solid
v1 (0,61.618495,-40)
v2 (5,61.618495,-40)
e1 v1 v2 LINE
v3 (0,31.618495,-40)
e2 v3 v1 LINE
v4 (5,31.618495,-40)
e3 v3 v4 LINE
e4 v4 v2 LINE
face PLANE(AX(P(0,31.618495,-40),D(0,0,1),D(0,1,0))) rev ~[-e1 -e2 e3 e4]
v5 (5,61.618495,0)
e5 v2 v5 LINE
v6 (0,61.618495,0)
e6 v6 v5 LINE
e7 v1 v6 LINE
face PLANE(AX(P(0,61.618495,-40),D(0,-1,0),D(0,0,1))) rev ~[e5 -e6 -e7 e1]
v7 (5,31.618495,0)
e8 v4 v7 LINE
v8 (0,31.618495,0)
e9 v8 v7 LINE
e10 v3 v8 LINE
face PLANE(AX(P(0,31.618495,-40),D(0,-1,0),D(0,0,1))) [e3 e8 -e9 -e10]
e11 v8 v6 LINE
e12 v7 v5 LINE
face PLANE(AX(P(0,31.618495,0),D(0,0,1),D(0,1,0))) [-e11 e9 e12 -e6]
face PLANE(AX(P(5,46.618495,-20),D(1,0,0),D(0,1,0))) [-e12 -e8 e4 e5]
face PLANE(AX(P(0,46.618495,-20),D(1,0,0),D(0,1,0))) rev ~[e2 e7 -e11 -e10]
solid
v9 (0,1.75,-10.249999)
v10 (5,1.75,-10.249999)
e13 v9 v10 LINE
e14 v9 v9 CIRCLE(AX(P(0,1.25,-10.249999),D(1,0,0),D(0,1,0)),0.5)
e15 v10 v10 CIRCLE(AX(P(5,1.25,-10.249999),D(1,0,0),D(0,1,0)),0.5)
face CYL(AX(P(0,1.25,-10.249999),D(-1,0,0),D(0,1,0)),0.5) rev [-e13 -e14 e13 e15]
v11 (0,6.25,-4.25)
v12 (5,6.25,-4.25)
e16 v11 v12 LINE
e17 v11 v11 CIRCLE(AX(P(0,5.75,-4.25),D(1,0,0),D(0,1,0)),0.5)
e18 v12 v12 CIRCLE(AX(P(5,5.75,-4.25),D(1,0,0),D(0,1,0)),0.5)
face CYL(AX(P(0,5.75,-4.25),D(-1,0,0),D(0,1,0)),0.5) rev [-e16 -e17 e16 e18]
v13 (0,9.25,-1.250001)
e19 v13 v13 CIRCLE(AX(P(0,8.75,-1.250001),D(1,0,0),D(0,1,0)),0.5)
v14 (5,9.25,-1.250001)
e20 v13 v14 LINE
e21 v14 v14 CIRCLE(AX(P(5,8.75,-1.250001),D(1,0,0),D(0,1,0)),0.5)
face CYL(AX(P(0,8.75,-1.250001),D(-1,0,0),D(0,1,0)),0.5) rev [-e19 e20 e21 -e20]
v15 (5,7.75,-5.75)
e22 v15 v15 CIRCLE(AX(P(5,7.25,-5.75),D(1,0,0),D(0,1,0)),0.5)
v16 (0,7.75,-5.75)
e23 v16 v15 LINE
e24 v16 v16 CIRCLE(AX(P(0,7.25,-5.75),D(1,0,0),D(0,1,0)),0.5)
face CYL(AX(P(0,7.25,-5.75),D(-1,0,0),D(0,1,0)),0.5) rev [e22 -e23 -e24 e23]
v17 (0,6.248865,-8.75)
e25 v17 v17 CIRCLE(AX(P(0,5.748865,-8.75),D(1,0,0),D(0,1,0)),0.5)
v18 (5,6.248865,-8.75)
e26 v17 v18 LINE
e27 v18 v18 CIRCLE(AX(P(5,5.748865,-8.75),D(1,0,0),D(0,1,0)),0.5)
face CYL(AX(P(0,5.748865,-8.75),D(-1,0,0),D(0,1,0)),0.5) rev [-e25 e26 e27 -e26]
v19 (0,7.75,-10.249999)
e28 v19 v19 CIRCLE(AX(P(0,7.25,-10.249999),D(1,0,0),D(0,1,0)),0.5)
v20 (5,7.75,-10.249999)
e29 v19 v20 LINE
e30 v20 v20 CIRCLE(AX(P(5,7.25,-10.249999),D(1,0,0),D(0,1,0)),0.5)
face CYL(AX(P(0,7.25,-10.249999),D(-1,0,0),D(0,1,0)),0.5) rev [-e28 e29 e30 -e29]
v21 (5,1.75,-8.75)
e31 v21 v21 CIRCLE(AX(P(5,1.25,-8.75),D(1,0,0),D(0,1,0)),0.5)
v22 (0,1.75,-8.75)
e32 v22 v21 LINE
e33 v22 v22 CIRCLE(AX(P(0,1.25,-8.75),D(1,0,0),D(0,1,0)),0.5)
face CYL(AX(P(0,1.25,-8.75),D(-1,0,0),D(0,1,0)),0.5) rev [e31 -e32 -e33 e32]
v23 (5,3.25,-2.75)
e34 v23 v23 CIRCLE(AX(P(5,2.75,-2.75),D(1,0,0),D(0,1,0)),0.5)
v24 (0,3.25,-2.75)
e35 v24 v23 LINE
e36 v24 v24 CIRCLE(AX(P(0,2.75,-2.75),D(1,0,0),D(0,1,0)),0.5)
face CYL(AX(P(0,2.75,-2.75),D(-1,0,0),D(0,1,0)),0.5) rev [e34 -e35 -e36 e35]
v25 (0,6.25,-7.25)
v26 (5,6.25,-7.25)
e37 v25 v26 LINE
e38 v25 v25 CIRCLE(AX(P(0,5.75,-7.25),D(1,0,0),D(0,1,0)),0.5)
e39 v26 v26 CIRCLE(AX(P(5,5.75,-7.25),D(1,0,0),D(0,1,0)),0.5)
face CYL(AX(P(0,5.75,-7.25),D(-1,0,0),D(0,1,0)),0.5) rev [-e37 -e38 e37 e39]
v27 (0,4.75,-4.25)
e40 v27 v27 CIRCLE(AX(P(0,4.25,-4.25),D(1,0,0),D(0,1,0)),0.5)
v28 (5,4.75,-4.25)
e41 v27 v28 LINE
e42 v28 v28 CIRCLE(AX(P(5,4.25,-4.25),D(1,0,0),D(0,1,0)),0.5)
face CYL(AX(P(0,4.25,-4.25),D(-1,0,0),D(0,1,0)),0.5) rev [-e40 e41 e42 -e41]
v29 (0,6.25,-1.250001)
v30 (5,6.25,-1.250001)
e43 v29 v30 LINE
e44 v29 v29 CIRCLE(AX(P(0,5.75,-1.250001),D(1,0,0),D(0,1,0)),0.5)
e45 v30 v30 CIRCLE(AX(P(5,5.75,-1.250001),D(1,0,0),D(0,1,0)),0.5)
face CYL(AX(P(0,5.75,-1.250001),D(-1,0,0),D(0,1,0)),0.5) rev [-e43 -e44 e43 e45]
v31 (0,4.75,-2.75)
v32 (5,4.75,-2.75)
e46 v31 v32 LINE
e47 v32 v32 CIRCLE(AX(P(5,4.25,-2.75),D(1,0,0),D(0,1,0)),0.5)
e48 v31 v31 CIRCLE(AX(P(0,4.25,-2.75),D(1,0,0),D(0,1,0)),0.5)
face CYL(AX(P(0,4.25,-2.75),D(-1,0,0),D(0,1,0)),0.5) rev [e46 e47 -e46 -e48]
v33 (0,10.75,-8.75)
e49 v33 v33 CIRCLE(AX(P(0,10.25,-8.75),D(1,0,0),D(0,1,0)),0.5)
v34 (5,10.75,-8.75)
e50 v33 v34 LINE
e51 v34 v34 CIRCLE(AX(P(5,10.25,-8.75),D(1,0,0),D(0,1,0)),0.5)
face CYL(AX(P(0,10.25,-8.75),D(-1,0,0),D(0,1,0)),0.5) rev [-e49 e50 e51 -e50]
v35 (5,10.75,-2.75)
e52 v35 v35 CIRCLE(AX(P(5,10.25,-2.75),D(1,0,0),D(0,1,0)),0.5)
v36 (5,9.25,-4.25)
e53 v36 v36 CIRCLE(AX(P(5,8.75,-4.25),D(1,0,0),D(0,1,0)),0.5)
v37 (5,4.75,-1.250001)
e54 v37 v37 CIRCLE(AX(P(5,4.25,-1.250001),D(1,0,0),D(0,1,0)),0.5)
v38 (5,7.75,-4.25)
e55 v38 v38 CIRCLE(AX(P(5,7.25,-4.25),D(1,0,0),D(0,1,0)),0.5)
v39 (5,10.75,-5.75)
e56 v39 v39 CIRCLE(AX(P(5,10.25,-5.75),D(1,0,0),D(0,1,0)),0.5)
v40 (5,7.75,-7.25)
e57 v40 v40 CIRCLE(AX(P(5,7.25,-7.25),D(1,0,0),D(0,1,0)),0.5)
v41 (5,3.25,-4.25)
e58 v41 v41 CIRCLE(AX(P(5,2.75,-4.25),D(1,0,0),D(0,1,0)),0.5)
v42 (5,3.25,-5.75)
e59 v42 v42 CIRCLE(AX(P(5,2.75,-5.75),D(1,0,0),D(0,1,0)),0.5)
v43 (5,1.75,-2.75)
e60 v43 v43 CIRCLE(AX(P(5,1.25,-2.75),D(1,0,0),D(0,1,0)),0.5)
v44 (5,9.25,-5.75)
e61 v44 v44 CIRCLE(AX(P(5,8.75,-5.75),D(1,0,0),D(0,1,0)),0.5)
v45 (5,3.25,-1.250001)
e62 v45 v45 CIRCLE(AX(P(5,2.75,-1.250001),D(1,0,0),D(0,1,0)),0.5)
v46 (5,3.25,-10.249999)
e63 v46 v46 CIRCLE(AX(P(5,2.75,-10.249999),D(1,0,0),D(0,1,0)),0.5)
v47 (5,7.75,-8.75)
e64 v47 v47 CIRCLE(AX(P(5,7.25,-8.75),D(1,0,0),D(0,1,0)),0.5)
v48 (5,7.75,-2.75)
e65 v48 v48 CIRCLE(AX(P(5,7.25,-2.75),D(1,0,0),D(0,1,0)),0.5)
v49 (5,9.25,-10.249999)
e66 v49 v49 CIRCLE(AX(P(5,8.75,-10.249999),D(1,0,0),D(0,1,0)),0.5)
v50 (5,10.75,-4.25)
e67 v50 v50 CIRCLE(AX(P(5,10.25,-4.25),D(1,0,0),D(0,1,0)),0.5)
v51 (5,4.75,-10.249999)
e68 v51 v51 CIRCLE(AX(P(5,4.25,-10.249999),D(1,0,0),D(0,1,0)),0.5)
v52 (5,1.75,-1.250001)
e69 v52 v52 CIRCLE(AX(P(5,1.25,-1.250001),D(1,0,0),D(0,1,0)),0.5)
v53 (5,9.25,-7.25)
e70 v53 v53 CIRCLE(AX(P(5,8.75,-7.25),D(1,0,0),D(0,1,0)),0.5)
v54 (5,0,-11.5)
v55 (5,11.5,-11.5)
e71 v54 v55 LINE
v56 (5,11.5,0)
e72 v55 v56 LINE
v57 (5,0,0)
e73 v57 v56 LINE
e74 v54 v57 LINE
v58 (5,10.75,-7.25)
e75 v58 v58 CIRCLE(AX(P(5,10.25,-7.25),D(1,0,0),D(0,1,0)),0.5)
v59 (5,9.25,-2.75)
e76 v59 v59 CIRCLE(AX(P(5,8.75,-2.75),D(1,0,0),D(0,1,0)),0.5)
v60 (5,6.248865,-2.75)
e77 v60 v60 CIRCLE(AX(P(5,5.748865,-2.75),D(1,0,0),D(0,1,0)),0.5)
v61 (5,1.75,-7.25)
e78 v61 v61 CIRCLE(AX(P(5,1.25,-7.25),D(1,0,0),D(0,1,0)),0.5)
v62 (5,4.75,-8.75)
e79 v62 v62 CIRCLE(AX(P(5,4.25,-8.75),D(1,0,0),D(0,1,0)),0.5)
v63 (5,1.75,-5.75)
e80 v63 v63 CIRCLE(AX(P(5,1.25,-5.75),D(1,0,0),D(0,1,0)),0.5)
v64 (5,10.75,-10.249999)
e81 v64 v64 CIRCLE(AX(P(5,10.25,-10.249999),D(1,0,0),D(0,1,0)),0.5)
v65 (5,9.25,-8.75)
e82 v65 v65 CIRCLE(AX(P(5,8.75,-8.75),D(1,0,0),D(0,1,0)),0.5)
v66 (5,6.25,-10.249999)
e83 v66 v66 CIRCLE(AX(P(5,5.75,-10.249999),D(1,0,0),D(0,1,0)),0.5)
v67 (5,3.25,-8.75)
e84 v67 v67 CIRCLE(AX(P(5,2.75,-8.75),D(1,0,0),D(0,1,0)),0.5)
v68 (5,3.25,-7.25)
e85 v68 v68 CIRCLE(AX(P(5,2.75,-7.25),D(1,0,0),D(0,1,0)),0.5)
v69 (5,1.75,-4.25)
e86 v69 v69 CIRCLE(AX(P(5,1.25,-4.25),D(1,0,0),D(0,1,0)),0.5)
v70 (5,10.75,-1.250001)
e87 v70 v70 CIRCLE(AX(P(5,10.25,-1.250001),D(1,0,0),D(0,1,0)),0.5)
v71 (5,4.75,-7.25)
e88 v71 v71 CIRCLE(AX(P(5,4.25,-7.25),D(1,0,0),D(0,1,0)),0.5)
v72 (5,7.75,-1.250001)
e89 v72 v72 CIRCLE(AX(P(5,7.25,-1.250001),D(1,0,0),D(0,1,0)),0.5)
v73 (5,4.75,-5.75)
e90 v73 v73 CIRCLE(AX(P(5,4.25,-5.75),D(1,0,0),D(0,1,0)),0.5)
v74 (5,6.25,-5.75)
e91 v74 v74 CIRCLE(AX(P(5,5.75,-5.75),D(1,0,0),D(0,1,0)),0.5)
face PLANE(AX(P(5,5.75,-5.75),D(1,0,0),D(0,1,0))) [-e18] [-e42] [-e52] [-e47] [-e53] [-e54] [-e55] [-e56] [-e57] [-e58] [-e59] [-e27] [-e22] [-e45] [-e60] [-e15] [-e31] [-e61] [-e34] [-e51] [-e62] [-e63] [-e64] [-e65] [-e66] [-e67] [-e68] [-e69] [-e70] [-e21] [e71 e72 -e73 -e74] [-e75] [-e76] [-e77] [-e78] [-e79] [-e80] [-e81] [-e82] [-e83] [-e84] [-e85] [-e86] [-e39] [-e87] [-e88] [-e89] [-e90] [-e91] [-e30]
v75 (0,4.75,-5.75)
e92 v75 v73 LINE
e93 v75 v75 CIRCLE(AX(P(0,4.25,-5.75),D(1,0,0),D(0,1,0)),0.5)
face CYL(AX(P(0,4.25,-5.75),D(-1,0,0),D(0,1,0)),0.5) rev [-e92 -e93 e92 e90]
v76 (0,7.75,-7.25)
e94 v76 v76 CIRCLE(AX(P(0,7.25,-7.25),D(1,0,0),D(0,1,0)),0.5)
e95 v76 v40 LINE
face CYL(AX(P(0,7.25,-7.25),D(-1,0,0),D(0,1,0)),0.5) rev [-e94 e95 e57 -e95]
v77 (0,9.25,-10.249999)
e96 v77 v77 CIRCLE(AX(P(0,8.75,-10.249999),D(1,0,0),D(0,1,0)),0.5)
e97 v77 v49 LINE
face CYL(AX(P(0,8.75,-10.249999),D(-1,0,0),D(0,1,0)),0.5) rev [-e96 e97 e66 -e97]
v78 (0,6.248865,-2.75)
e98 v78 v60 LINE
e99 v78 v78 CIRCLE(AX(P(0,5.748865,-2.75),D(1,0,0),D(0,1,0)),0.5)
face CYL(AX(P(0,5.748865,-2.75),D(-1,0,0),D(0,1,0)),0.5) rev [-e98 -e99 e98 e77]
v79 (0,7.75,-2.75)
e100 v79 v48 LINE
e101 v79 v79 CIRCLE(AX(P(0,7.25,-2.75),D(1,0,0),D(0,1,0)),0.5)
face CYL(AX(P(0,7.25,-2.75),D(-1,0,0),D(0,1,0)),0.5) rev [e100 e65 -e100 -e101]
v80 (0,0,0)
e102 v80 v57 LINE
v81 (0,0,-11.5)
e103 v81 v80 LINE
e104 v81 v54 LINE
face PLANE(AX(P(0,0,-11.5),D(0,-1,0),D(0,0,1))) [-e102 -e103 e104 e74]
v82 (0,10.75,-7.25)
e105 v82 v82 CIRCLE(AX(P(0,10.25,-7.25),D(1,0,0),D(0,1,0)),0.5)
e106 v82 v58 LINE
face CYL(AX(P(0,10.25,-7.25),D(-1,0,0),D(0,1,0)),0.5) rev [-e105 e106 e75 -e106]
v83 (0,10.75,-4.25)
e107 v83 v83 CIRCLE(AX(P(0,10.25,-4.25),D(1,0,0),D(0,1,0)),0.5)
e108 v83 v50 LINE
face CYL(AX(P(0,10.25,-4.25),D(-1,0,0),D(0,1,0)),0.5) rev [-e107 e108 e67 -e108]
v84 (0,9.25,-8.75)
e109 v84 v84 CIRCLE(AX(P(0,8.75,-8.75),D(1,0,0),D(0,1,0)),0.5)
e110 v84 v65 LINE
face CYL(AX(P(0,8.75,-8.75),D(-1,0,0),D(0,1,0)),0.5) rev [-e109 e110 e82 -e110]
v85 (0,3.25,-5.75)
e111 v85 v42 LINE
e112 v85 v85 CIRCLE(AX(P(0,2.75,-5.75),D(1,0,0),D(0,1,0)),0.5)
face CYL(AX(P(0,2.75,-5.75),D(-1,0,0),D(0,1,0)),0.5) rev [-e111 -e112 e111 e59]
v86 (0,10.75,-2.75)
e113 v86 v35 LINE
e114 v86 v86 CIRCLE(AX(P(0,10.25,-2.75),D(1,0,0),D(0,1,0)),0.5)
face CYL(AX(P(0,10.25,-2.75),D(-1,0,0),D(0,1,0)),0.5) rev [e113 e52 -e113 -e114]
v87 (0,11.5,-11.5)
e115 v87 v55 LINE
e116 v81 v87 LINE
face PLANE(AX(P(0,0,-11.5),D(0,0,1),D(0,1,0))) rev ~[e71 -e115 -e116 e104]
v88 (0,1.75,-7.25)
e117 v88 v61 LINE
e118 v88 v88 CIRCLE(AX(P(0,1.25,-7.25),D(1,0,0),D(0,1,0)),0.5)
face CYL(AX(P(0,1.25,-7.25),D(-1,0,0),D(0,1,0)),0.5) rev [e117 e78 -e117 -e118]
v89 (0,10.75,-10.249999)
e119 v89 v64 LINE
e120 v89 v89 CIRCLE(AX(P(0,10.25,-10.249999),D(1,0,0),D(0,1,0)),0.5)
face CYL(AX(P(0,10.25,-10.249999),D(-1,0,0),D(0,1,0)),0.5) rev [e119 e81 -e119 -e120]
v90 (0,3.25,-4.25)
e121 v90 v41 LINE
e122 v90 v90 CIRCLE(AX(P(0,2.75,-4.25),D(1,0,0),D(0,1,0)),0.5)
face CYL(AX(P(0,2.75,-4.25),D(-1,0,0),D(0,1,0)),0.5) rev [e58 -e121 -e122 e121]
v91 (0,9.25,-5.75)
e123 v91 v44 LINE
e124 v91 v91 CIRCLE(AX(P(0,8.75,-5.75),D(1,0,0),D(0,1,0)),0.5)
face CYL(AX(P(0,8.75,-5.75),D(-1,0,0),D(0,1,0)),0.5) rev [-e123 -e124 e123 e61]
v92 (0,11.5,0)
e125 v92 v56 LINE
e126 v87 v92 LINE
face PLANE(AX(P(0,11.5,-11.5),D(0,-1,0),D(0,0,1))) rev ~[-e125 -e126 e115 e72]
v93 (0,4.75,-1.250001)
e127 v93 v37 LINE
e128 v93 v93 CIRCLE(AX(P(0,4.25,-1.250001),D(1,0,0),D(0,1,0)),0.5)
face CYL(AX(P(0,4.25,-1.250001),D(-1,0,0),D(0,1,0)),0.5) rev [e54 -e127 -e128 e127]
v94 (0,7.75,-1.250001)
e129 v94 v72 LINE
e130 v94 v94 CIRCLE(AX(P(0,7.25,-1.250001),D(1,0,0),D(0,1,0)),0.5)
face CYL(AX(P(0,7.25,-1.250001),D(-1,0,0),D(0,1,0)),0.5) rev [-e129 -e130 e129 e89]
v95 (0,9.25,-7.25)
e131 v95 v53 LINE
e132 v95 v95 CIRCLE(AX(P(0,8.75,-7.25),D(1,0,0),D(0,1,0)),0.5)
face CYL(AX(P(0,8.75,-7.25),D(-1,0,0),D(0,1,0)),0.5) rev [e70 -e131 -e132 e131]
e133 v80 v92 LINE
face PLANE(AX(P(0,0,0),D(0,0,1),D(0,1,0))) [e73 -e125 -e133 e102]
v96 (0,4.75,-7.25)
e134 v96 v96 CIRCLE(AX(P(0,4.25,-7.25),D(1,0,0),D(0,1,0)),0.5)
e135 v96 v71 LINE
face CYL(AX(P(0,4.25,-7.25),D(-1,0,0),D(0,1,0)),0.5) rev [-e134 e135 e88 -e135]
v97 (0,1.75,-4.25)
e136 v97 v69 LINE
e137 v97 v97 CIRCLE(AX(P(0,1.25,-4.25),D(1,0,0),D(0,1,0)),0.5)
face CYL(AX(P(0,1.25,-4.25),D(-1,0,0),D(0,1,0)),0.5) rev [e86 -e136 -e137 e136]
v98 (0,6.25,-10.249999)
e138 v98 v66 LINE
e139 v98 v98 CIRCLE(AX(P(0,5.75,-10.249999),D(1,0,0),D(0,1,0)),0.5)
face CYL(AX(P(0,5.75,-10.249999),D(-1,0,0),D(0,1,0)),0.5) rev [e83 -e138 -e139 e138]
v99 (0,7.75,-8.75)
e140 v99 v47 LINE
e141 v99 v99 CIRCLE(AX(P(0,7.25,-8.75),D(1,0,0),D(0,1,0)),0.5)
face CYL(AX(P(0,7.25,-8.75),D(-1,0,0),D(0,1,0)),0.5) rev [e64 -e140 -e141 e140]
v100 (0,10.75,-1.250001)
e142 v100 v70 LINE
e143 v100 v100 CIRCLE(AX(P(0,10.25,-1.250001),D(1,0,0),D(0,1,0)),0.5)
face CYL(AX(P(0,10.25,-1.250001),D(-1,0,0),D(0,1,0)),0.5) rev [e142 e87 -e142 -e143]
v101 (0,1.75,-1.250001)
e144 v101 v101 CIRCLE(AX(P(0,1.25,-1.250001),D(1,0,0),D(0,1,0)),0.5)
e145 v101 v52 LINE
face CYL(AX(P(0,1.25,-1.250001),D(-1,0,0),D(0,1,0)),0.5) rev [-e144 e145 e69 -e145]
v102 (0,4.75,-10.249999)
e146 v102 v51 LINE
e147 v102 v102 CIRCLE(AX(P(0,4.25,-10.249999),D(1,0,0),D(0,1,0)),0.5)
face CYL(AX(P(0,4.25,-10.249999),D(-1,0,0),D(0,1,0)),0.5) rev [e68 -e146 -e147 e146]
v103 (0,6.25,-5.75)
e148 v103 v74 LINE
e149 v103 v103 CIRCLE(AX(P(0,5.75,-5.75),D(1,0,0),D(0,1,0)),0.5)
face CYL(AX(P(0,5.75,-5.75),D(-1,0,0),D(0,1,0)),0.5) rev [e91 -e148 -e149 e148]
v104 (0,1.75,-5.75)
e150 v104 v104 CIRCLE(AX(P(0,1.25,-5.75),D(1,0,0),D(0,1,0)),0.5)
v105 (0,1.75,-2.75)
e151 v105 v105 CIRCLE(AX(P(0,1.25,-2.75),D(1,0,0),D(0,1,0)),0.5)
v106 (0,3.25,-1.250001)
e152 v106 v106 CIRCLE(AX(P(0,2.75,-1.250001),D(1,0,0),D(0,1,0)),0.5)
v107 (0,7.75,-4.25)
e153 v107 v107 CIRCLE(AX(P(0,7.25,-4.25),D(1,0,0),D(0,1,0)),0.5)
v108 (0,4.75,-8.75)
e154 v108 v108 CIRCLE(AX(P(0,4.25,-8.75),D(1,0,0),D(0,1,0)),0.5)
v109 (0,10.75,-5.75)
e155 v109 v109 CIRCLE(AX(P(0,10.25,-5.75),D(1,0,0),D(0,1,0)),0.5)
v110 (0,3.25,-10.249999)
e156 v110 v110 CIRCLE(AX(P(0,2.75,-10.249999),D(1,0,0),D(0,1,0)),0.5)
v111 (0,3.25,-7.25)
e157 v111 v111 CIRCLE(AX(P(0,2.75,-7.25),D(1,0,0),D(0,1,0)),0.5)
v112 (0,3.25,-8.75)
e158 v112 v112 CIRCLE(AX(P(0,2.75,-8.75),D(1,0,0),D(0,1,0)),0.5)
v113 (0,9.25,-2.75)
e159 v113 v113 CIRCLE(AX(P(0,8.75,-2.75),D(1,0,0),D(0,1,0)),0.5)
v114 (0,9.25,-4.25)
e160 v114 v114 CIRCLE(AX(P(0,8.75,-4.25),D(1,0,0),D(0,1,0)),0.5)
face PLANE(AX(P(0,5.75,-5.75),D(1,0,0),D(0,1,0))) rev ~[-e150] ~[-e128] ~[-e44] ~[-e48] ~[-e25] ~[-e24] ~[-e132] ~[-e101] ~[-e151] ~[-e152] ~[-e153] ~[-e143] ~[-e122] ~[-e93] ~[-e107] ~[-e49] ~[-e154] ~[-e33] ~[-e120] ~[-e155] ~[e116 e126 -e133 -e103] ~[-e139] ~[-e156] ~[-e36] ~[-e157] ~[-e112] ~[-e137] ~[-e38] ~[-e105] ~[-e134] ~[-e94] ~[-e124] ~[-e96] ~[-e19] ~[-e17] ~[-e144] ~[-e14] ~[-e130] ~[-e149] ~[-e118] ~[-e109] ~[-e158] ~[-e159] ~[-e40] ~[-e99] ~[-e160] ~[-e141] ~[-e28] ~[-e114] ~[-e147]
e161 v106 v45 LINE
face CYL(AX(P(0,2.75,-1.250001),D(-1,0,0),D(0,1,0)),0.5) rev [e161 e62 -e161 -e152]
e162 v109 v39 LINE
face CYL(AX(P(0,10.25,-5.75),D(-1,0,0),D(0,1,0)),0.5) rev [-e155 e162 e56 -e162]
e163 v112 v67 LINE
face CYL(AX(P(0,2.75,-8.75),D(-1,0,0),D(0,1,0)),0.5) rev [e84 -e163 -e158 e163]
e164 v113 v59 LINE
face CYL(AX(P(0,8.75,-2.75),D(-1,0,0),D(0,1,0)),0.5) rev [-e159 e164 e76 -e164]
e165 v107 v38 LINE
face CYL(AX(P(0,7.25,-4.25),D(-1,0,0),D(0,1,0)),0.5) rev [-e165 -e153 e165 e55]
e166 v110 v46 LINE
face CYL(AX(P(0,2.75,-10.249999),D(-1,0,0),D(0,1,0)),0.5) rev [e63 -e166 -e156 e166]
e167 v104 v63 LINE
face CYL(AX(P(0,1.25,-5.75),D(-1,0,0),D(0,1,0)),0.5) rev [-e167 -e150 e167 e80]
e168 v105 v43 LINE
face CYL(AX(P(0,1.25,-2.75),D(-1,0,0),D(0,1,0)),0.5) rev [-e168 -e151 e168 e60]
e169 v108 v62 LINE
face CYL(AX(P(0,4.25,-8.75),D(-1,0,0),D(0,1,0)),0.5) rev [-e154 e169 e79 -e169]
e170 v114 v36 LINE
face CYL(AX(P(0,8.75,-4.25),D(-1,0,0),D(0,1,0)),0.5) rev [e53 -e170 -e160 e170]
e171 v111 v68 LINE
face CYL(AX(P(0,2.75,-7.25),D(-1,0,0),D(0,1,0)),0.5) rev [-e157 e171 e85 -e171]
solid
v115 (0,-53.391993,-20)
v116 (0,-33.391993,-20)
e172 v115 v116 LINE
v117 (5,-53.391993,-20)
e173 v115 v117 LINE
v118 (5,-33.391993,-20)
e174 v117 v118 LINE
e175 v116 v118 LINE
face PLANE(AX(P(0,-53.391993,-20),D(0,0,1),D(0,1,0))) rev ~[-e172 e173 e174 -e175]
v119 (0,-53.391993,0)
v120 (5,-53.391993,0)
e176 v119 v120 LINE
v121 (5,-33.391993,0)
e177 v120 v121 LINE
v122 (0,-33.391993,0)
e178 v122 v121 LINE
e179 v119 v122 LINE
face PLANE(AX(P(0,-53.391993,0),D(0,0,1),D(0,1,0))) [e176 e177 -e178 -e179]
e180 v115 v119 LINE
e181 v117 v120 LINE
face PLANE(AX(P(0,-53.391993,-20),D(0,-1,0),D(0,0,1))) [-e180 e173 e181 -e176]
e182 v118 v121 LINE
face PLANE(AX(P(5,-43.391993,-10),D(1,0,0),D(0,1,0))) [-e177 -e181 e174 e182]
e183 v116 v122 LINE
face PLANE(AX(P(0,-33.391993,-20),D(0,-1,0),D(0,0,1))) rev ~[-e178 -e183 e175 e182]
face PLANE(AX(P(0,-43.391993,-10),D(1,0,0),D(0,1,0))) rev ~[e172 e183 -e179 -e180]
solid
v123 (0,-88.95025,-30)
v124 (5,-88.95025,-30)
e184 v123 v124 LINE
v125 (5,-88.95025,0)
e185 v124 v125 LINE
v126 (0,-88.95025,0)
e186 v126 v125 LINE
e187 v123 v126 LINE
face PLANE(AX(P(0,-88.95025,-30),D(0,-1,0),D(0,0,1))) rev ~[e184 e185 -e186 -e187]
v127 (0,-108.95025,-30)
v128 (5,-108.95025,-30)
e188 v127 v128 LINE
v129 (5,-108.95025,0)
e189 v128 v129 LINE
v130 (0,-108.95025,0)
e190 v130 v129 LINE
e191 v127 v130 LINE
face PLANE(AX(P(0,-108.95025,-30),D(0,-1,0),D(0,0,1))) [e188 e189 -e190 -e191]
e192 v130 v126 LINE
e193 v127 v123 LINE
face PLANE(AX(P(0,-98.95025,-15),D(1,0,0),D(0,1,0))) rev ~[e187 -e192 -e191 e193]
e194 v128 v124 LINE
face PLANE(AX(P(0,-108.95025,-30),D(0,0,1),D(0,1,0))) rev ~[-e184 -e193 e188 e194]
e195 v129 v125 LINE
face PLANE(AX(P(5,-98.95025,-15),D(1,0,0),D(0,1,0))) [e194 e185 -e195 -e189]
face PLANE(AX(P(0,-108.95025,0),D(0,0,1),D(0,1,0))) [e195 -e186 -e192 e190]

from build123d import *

# Parameters (mm, degrees)
F0_W     = 11.5
F0_H     = 11.5
F0_R     = 0.5
F0_W_2   = 30
F0_H_2   = 40
F0_W_3   = 20
F0_H_3   = 30
F0_H_4   = 20
F1_DEPTH = 5


with BuildPart() as f1:
    # F0 (on Right) → F1 (new body)
    with BuildSketch(Plane.YZ):
        with Locations((5.75, -5.75)):
            Rectangle(F0_W, F0_H)
        with Locations((1.25, -10.249999)):
            Circle(F0_R, mode=Mode.SUBTRACT)
        with Locations((2.75, -10.249999)):
            Circle(F0_R, mode=Mode.SUBTRACT)
        with Locations((4.25, -10.249999)):
            Circle(F0_R, mode=Mode.SUBTRACT)
        with Locations((5.75, -10.249999)):
            Circle(F0_R, mode=Mode.SUBTRACT)
        with Locations((7.25, -10.249999)):
            Circle(F0_R, mode=Mode.SUBTRACT)
        with Locations((8.75, -10.249999)):
            Circle(F0_R, mode=Mode.SUBTRACT)
        with Locations((10.25, -10.249999)):
            Circle(F0_R, mode=Mode.SUBTRACT)
        with Locations((1.25, -8.75)):
            Circle(F0_R, mode=Mode.SUBTRACT)
        with Locations((2.75, -8.75)):
            Circle(F0_R, mode=Mode.SUBTRACT)
        with Locations((4.25, -8.75)):
            Circle(F0_R, mode=Mode.SUBTRACT)
        with Locations((5.748865, -8.75)):
            Circle(F0_R, mode=Mode.SUBTRACT)
        with Locations((7.25, -8.75)):
            Circle(F0_R, mode=Mode.SUBTRACT)
        with Locations((8.75, -8.75)):
            Circle(F0_R, mode=Mode.SUBTRACT)
        with Locations((10.25, -8.75)):
            Circle(F0_R, mode=Mode.SUBTRACT)
        with Locations((1.25, -7.25)):
            Circle(F0_R, mode=Mode.SUBTRACT)
        with Locations((2.75, -7.25)):
            Circle(F0_R, mode=Mode.SUBTRACT)
        with Locations((4.25, -7.25)):
            Circle(F0_R, mode=Mode.SUBTRACT)
        with Locations((5.75, -7.25)):
            Circle(F0_R, mode=Mode.SUBTRACT)
        with Locations((7.25, -7.25)):
            Circle(F0_R, mode=Mode.SUBTRACT)
        with Locations((1.25, -5.75)):
            Circle(F0_R, mode=Mode.SUBTRACT)
        with Locations((2.75, -5.75)):
            Circle(F0_R, mode=Mode.SUBTRACT)
        with Locations((4.25, -5.75)):
            Circle(F0_R, mode=Mode.SUBTRACT)
        with Locations((5.75, -5.75)):
            Circle(F0_R, mode=Mode.SUBTRACT)
        with Locations((7.25, -5.75)):
            Circle(F0_R, mode=Mode.SUBTRACT)
        with Locations((8.75, -7.25)):
            Circle(F0_R, mode=Mode.SUBTRACT)
        with Locations((10.25, -7.25)):
            Circle(F0_R, mode=Mode.SUBTRACT)
        with Locations((8.75, -5.75)):
            Circle(F0_R, mode=Mode.SUBTRACT)
        with Locations((10.25, -5.75)):
            Circle(F0_R, mode=Mode.SUBTRACT)
        with Locations((1.25, -4.25)):
            Circle(F0_R, mode=Mode.SUBTRACT)
        with Locations((2.75, -4.25)):
            Circle(F0_R, mode=Mode.SUBTRACT)
        with Locations((4.25, -4.25)):
            Circle(F0_R, mode=Mode.SUBTRACT)
        with Locations((5.75, -4.25)):
            Circle(F0_R, mode=Mode.SUBTRACT)
        with Locations((7.25, -4.25)):
            Circle(F0_R, mode=Mode.SUBTRACT)
        with Locations((1.25, -2.75)):
            Circle(F0_R, mode=Mode.SUBTRACT)
        with Locations((2.75, -2.75)):
            Circle(F0_R, mode=Mode.SUBTRACT)
        with Locations((4.25, -2.75)):
            Circle(F0_R, mode=Mode.SUBTRACT)
        with Locations((5.748865, -2.75)):
            Circle(F0_R, mode=Mode.SUBTRACT)
        with Locations((7.25, -2.75)):
            Circle(F0_R, mode=Mode.SUBTRACT)
        with Locations((8.75, -4.25)):
            Circle(F0_R, mode=Mode.SUBTRACT)
        with Locations((10.25, -4.25)):
            Circle(F0_R, mode=Mode.SUBTRACT)
        with Locations((8.75, -2.75)):
            Circle(F0_R, mode=Mode.SUBTRACT)
        with Locations((10.25, -2.75)):
            Circle(F0_R, mode=Mode.SUBTRACT)
        with Locations((1.25, -1.250001)):
            Circle(F0_R, mode=Mode.SUBTRACT)
        with Locations((2.75, -1.250001)):
            Circle(F0_R, mode=Mode.SUBTRACT)
        with Locations((4.25, -1.250001)):
            Circle(F0_R, mode=Mode.SUBTRACT)
        with Locations((5.75, -1.250001)):
            Circle(F0_R, mode=Mode.SUBTRACT)
        with Locations((7.25, -1.250001)):
            Circle(F0_R, mode=Mode.SUBTRACT)
        with Locations((8.75, -1.250001)):
            Circle(F0_R, mode=Mode.SUBTRACT)
        with Locations((10.25, -1.250001)):
            Circle(F0_R, mode=Mode.SUBTRACT)
        with Locations((46.618495, -20)):
            Rectangle(F0_W_2, F0_H_2)
        with Locations((-98.95025, -15)):
            Rectangle(F0_W_3, F0_H_3)
        with Locations((-43.391993, -10)):
            Rectangle(F0_W_3, F0_H_4)
    extrude(amount=F1_DEPTH)


solid = f1.part
